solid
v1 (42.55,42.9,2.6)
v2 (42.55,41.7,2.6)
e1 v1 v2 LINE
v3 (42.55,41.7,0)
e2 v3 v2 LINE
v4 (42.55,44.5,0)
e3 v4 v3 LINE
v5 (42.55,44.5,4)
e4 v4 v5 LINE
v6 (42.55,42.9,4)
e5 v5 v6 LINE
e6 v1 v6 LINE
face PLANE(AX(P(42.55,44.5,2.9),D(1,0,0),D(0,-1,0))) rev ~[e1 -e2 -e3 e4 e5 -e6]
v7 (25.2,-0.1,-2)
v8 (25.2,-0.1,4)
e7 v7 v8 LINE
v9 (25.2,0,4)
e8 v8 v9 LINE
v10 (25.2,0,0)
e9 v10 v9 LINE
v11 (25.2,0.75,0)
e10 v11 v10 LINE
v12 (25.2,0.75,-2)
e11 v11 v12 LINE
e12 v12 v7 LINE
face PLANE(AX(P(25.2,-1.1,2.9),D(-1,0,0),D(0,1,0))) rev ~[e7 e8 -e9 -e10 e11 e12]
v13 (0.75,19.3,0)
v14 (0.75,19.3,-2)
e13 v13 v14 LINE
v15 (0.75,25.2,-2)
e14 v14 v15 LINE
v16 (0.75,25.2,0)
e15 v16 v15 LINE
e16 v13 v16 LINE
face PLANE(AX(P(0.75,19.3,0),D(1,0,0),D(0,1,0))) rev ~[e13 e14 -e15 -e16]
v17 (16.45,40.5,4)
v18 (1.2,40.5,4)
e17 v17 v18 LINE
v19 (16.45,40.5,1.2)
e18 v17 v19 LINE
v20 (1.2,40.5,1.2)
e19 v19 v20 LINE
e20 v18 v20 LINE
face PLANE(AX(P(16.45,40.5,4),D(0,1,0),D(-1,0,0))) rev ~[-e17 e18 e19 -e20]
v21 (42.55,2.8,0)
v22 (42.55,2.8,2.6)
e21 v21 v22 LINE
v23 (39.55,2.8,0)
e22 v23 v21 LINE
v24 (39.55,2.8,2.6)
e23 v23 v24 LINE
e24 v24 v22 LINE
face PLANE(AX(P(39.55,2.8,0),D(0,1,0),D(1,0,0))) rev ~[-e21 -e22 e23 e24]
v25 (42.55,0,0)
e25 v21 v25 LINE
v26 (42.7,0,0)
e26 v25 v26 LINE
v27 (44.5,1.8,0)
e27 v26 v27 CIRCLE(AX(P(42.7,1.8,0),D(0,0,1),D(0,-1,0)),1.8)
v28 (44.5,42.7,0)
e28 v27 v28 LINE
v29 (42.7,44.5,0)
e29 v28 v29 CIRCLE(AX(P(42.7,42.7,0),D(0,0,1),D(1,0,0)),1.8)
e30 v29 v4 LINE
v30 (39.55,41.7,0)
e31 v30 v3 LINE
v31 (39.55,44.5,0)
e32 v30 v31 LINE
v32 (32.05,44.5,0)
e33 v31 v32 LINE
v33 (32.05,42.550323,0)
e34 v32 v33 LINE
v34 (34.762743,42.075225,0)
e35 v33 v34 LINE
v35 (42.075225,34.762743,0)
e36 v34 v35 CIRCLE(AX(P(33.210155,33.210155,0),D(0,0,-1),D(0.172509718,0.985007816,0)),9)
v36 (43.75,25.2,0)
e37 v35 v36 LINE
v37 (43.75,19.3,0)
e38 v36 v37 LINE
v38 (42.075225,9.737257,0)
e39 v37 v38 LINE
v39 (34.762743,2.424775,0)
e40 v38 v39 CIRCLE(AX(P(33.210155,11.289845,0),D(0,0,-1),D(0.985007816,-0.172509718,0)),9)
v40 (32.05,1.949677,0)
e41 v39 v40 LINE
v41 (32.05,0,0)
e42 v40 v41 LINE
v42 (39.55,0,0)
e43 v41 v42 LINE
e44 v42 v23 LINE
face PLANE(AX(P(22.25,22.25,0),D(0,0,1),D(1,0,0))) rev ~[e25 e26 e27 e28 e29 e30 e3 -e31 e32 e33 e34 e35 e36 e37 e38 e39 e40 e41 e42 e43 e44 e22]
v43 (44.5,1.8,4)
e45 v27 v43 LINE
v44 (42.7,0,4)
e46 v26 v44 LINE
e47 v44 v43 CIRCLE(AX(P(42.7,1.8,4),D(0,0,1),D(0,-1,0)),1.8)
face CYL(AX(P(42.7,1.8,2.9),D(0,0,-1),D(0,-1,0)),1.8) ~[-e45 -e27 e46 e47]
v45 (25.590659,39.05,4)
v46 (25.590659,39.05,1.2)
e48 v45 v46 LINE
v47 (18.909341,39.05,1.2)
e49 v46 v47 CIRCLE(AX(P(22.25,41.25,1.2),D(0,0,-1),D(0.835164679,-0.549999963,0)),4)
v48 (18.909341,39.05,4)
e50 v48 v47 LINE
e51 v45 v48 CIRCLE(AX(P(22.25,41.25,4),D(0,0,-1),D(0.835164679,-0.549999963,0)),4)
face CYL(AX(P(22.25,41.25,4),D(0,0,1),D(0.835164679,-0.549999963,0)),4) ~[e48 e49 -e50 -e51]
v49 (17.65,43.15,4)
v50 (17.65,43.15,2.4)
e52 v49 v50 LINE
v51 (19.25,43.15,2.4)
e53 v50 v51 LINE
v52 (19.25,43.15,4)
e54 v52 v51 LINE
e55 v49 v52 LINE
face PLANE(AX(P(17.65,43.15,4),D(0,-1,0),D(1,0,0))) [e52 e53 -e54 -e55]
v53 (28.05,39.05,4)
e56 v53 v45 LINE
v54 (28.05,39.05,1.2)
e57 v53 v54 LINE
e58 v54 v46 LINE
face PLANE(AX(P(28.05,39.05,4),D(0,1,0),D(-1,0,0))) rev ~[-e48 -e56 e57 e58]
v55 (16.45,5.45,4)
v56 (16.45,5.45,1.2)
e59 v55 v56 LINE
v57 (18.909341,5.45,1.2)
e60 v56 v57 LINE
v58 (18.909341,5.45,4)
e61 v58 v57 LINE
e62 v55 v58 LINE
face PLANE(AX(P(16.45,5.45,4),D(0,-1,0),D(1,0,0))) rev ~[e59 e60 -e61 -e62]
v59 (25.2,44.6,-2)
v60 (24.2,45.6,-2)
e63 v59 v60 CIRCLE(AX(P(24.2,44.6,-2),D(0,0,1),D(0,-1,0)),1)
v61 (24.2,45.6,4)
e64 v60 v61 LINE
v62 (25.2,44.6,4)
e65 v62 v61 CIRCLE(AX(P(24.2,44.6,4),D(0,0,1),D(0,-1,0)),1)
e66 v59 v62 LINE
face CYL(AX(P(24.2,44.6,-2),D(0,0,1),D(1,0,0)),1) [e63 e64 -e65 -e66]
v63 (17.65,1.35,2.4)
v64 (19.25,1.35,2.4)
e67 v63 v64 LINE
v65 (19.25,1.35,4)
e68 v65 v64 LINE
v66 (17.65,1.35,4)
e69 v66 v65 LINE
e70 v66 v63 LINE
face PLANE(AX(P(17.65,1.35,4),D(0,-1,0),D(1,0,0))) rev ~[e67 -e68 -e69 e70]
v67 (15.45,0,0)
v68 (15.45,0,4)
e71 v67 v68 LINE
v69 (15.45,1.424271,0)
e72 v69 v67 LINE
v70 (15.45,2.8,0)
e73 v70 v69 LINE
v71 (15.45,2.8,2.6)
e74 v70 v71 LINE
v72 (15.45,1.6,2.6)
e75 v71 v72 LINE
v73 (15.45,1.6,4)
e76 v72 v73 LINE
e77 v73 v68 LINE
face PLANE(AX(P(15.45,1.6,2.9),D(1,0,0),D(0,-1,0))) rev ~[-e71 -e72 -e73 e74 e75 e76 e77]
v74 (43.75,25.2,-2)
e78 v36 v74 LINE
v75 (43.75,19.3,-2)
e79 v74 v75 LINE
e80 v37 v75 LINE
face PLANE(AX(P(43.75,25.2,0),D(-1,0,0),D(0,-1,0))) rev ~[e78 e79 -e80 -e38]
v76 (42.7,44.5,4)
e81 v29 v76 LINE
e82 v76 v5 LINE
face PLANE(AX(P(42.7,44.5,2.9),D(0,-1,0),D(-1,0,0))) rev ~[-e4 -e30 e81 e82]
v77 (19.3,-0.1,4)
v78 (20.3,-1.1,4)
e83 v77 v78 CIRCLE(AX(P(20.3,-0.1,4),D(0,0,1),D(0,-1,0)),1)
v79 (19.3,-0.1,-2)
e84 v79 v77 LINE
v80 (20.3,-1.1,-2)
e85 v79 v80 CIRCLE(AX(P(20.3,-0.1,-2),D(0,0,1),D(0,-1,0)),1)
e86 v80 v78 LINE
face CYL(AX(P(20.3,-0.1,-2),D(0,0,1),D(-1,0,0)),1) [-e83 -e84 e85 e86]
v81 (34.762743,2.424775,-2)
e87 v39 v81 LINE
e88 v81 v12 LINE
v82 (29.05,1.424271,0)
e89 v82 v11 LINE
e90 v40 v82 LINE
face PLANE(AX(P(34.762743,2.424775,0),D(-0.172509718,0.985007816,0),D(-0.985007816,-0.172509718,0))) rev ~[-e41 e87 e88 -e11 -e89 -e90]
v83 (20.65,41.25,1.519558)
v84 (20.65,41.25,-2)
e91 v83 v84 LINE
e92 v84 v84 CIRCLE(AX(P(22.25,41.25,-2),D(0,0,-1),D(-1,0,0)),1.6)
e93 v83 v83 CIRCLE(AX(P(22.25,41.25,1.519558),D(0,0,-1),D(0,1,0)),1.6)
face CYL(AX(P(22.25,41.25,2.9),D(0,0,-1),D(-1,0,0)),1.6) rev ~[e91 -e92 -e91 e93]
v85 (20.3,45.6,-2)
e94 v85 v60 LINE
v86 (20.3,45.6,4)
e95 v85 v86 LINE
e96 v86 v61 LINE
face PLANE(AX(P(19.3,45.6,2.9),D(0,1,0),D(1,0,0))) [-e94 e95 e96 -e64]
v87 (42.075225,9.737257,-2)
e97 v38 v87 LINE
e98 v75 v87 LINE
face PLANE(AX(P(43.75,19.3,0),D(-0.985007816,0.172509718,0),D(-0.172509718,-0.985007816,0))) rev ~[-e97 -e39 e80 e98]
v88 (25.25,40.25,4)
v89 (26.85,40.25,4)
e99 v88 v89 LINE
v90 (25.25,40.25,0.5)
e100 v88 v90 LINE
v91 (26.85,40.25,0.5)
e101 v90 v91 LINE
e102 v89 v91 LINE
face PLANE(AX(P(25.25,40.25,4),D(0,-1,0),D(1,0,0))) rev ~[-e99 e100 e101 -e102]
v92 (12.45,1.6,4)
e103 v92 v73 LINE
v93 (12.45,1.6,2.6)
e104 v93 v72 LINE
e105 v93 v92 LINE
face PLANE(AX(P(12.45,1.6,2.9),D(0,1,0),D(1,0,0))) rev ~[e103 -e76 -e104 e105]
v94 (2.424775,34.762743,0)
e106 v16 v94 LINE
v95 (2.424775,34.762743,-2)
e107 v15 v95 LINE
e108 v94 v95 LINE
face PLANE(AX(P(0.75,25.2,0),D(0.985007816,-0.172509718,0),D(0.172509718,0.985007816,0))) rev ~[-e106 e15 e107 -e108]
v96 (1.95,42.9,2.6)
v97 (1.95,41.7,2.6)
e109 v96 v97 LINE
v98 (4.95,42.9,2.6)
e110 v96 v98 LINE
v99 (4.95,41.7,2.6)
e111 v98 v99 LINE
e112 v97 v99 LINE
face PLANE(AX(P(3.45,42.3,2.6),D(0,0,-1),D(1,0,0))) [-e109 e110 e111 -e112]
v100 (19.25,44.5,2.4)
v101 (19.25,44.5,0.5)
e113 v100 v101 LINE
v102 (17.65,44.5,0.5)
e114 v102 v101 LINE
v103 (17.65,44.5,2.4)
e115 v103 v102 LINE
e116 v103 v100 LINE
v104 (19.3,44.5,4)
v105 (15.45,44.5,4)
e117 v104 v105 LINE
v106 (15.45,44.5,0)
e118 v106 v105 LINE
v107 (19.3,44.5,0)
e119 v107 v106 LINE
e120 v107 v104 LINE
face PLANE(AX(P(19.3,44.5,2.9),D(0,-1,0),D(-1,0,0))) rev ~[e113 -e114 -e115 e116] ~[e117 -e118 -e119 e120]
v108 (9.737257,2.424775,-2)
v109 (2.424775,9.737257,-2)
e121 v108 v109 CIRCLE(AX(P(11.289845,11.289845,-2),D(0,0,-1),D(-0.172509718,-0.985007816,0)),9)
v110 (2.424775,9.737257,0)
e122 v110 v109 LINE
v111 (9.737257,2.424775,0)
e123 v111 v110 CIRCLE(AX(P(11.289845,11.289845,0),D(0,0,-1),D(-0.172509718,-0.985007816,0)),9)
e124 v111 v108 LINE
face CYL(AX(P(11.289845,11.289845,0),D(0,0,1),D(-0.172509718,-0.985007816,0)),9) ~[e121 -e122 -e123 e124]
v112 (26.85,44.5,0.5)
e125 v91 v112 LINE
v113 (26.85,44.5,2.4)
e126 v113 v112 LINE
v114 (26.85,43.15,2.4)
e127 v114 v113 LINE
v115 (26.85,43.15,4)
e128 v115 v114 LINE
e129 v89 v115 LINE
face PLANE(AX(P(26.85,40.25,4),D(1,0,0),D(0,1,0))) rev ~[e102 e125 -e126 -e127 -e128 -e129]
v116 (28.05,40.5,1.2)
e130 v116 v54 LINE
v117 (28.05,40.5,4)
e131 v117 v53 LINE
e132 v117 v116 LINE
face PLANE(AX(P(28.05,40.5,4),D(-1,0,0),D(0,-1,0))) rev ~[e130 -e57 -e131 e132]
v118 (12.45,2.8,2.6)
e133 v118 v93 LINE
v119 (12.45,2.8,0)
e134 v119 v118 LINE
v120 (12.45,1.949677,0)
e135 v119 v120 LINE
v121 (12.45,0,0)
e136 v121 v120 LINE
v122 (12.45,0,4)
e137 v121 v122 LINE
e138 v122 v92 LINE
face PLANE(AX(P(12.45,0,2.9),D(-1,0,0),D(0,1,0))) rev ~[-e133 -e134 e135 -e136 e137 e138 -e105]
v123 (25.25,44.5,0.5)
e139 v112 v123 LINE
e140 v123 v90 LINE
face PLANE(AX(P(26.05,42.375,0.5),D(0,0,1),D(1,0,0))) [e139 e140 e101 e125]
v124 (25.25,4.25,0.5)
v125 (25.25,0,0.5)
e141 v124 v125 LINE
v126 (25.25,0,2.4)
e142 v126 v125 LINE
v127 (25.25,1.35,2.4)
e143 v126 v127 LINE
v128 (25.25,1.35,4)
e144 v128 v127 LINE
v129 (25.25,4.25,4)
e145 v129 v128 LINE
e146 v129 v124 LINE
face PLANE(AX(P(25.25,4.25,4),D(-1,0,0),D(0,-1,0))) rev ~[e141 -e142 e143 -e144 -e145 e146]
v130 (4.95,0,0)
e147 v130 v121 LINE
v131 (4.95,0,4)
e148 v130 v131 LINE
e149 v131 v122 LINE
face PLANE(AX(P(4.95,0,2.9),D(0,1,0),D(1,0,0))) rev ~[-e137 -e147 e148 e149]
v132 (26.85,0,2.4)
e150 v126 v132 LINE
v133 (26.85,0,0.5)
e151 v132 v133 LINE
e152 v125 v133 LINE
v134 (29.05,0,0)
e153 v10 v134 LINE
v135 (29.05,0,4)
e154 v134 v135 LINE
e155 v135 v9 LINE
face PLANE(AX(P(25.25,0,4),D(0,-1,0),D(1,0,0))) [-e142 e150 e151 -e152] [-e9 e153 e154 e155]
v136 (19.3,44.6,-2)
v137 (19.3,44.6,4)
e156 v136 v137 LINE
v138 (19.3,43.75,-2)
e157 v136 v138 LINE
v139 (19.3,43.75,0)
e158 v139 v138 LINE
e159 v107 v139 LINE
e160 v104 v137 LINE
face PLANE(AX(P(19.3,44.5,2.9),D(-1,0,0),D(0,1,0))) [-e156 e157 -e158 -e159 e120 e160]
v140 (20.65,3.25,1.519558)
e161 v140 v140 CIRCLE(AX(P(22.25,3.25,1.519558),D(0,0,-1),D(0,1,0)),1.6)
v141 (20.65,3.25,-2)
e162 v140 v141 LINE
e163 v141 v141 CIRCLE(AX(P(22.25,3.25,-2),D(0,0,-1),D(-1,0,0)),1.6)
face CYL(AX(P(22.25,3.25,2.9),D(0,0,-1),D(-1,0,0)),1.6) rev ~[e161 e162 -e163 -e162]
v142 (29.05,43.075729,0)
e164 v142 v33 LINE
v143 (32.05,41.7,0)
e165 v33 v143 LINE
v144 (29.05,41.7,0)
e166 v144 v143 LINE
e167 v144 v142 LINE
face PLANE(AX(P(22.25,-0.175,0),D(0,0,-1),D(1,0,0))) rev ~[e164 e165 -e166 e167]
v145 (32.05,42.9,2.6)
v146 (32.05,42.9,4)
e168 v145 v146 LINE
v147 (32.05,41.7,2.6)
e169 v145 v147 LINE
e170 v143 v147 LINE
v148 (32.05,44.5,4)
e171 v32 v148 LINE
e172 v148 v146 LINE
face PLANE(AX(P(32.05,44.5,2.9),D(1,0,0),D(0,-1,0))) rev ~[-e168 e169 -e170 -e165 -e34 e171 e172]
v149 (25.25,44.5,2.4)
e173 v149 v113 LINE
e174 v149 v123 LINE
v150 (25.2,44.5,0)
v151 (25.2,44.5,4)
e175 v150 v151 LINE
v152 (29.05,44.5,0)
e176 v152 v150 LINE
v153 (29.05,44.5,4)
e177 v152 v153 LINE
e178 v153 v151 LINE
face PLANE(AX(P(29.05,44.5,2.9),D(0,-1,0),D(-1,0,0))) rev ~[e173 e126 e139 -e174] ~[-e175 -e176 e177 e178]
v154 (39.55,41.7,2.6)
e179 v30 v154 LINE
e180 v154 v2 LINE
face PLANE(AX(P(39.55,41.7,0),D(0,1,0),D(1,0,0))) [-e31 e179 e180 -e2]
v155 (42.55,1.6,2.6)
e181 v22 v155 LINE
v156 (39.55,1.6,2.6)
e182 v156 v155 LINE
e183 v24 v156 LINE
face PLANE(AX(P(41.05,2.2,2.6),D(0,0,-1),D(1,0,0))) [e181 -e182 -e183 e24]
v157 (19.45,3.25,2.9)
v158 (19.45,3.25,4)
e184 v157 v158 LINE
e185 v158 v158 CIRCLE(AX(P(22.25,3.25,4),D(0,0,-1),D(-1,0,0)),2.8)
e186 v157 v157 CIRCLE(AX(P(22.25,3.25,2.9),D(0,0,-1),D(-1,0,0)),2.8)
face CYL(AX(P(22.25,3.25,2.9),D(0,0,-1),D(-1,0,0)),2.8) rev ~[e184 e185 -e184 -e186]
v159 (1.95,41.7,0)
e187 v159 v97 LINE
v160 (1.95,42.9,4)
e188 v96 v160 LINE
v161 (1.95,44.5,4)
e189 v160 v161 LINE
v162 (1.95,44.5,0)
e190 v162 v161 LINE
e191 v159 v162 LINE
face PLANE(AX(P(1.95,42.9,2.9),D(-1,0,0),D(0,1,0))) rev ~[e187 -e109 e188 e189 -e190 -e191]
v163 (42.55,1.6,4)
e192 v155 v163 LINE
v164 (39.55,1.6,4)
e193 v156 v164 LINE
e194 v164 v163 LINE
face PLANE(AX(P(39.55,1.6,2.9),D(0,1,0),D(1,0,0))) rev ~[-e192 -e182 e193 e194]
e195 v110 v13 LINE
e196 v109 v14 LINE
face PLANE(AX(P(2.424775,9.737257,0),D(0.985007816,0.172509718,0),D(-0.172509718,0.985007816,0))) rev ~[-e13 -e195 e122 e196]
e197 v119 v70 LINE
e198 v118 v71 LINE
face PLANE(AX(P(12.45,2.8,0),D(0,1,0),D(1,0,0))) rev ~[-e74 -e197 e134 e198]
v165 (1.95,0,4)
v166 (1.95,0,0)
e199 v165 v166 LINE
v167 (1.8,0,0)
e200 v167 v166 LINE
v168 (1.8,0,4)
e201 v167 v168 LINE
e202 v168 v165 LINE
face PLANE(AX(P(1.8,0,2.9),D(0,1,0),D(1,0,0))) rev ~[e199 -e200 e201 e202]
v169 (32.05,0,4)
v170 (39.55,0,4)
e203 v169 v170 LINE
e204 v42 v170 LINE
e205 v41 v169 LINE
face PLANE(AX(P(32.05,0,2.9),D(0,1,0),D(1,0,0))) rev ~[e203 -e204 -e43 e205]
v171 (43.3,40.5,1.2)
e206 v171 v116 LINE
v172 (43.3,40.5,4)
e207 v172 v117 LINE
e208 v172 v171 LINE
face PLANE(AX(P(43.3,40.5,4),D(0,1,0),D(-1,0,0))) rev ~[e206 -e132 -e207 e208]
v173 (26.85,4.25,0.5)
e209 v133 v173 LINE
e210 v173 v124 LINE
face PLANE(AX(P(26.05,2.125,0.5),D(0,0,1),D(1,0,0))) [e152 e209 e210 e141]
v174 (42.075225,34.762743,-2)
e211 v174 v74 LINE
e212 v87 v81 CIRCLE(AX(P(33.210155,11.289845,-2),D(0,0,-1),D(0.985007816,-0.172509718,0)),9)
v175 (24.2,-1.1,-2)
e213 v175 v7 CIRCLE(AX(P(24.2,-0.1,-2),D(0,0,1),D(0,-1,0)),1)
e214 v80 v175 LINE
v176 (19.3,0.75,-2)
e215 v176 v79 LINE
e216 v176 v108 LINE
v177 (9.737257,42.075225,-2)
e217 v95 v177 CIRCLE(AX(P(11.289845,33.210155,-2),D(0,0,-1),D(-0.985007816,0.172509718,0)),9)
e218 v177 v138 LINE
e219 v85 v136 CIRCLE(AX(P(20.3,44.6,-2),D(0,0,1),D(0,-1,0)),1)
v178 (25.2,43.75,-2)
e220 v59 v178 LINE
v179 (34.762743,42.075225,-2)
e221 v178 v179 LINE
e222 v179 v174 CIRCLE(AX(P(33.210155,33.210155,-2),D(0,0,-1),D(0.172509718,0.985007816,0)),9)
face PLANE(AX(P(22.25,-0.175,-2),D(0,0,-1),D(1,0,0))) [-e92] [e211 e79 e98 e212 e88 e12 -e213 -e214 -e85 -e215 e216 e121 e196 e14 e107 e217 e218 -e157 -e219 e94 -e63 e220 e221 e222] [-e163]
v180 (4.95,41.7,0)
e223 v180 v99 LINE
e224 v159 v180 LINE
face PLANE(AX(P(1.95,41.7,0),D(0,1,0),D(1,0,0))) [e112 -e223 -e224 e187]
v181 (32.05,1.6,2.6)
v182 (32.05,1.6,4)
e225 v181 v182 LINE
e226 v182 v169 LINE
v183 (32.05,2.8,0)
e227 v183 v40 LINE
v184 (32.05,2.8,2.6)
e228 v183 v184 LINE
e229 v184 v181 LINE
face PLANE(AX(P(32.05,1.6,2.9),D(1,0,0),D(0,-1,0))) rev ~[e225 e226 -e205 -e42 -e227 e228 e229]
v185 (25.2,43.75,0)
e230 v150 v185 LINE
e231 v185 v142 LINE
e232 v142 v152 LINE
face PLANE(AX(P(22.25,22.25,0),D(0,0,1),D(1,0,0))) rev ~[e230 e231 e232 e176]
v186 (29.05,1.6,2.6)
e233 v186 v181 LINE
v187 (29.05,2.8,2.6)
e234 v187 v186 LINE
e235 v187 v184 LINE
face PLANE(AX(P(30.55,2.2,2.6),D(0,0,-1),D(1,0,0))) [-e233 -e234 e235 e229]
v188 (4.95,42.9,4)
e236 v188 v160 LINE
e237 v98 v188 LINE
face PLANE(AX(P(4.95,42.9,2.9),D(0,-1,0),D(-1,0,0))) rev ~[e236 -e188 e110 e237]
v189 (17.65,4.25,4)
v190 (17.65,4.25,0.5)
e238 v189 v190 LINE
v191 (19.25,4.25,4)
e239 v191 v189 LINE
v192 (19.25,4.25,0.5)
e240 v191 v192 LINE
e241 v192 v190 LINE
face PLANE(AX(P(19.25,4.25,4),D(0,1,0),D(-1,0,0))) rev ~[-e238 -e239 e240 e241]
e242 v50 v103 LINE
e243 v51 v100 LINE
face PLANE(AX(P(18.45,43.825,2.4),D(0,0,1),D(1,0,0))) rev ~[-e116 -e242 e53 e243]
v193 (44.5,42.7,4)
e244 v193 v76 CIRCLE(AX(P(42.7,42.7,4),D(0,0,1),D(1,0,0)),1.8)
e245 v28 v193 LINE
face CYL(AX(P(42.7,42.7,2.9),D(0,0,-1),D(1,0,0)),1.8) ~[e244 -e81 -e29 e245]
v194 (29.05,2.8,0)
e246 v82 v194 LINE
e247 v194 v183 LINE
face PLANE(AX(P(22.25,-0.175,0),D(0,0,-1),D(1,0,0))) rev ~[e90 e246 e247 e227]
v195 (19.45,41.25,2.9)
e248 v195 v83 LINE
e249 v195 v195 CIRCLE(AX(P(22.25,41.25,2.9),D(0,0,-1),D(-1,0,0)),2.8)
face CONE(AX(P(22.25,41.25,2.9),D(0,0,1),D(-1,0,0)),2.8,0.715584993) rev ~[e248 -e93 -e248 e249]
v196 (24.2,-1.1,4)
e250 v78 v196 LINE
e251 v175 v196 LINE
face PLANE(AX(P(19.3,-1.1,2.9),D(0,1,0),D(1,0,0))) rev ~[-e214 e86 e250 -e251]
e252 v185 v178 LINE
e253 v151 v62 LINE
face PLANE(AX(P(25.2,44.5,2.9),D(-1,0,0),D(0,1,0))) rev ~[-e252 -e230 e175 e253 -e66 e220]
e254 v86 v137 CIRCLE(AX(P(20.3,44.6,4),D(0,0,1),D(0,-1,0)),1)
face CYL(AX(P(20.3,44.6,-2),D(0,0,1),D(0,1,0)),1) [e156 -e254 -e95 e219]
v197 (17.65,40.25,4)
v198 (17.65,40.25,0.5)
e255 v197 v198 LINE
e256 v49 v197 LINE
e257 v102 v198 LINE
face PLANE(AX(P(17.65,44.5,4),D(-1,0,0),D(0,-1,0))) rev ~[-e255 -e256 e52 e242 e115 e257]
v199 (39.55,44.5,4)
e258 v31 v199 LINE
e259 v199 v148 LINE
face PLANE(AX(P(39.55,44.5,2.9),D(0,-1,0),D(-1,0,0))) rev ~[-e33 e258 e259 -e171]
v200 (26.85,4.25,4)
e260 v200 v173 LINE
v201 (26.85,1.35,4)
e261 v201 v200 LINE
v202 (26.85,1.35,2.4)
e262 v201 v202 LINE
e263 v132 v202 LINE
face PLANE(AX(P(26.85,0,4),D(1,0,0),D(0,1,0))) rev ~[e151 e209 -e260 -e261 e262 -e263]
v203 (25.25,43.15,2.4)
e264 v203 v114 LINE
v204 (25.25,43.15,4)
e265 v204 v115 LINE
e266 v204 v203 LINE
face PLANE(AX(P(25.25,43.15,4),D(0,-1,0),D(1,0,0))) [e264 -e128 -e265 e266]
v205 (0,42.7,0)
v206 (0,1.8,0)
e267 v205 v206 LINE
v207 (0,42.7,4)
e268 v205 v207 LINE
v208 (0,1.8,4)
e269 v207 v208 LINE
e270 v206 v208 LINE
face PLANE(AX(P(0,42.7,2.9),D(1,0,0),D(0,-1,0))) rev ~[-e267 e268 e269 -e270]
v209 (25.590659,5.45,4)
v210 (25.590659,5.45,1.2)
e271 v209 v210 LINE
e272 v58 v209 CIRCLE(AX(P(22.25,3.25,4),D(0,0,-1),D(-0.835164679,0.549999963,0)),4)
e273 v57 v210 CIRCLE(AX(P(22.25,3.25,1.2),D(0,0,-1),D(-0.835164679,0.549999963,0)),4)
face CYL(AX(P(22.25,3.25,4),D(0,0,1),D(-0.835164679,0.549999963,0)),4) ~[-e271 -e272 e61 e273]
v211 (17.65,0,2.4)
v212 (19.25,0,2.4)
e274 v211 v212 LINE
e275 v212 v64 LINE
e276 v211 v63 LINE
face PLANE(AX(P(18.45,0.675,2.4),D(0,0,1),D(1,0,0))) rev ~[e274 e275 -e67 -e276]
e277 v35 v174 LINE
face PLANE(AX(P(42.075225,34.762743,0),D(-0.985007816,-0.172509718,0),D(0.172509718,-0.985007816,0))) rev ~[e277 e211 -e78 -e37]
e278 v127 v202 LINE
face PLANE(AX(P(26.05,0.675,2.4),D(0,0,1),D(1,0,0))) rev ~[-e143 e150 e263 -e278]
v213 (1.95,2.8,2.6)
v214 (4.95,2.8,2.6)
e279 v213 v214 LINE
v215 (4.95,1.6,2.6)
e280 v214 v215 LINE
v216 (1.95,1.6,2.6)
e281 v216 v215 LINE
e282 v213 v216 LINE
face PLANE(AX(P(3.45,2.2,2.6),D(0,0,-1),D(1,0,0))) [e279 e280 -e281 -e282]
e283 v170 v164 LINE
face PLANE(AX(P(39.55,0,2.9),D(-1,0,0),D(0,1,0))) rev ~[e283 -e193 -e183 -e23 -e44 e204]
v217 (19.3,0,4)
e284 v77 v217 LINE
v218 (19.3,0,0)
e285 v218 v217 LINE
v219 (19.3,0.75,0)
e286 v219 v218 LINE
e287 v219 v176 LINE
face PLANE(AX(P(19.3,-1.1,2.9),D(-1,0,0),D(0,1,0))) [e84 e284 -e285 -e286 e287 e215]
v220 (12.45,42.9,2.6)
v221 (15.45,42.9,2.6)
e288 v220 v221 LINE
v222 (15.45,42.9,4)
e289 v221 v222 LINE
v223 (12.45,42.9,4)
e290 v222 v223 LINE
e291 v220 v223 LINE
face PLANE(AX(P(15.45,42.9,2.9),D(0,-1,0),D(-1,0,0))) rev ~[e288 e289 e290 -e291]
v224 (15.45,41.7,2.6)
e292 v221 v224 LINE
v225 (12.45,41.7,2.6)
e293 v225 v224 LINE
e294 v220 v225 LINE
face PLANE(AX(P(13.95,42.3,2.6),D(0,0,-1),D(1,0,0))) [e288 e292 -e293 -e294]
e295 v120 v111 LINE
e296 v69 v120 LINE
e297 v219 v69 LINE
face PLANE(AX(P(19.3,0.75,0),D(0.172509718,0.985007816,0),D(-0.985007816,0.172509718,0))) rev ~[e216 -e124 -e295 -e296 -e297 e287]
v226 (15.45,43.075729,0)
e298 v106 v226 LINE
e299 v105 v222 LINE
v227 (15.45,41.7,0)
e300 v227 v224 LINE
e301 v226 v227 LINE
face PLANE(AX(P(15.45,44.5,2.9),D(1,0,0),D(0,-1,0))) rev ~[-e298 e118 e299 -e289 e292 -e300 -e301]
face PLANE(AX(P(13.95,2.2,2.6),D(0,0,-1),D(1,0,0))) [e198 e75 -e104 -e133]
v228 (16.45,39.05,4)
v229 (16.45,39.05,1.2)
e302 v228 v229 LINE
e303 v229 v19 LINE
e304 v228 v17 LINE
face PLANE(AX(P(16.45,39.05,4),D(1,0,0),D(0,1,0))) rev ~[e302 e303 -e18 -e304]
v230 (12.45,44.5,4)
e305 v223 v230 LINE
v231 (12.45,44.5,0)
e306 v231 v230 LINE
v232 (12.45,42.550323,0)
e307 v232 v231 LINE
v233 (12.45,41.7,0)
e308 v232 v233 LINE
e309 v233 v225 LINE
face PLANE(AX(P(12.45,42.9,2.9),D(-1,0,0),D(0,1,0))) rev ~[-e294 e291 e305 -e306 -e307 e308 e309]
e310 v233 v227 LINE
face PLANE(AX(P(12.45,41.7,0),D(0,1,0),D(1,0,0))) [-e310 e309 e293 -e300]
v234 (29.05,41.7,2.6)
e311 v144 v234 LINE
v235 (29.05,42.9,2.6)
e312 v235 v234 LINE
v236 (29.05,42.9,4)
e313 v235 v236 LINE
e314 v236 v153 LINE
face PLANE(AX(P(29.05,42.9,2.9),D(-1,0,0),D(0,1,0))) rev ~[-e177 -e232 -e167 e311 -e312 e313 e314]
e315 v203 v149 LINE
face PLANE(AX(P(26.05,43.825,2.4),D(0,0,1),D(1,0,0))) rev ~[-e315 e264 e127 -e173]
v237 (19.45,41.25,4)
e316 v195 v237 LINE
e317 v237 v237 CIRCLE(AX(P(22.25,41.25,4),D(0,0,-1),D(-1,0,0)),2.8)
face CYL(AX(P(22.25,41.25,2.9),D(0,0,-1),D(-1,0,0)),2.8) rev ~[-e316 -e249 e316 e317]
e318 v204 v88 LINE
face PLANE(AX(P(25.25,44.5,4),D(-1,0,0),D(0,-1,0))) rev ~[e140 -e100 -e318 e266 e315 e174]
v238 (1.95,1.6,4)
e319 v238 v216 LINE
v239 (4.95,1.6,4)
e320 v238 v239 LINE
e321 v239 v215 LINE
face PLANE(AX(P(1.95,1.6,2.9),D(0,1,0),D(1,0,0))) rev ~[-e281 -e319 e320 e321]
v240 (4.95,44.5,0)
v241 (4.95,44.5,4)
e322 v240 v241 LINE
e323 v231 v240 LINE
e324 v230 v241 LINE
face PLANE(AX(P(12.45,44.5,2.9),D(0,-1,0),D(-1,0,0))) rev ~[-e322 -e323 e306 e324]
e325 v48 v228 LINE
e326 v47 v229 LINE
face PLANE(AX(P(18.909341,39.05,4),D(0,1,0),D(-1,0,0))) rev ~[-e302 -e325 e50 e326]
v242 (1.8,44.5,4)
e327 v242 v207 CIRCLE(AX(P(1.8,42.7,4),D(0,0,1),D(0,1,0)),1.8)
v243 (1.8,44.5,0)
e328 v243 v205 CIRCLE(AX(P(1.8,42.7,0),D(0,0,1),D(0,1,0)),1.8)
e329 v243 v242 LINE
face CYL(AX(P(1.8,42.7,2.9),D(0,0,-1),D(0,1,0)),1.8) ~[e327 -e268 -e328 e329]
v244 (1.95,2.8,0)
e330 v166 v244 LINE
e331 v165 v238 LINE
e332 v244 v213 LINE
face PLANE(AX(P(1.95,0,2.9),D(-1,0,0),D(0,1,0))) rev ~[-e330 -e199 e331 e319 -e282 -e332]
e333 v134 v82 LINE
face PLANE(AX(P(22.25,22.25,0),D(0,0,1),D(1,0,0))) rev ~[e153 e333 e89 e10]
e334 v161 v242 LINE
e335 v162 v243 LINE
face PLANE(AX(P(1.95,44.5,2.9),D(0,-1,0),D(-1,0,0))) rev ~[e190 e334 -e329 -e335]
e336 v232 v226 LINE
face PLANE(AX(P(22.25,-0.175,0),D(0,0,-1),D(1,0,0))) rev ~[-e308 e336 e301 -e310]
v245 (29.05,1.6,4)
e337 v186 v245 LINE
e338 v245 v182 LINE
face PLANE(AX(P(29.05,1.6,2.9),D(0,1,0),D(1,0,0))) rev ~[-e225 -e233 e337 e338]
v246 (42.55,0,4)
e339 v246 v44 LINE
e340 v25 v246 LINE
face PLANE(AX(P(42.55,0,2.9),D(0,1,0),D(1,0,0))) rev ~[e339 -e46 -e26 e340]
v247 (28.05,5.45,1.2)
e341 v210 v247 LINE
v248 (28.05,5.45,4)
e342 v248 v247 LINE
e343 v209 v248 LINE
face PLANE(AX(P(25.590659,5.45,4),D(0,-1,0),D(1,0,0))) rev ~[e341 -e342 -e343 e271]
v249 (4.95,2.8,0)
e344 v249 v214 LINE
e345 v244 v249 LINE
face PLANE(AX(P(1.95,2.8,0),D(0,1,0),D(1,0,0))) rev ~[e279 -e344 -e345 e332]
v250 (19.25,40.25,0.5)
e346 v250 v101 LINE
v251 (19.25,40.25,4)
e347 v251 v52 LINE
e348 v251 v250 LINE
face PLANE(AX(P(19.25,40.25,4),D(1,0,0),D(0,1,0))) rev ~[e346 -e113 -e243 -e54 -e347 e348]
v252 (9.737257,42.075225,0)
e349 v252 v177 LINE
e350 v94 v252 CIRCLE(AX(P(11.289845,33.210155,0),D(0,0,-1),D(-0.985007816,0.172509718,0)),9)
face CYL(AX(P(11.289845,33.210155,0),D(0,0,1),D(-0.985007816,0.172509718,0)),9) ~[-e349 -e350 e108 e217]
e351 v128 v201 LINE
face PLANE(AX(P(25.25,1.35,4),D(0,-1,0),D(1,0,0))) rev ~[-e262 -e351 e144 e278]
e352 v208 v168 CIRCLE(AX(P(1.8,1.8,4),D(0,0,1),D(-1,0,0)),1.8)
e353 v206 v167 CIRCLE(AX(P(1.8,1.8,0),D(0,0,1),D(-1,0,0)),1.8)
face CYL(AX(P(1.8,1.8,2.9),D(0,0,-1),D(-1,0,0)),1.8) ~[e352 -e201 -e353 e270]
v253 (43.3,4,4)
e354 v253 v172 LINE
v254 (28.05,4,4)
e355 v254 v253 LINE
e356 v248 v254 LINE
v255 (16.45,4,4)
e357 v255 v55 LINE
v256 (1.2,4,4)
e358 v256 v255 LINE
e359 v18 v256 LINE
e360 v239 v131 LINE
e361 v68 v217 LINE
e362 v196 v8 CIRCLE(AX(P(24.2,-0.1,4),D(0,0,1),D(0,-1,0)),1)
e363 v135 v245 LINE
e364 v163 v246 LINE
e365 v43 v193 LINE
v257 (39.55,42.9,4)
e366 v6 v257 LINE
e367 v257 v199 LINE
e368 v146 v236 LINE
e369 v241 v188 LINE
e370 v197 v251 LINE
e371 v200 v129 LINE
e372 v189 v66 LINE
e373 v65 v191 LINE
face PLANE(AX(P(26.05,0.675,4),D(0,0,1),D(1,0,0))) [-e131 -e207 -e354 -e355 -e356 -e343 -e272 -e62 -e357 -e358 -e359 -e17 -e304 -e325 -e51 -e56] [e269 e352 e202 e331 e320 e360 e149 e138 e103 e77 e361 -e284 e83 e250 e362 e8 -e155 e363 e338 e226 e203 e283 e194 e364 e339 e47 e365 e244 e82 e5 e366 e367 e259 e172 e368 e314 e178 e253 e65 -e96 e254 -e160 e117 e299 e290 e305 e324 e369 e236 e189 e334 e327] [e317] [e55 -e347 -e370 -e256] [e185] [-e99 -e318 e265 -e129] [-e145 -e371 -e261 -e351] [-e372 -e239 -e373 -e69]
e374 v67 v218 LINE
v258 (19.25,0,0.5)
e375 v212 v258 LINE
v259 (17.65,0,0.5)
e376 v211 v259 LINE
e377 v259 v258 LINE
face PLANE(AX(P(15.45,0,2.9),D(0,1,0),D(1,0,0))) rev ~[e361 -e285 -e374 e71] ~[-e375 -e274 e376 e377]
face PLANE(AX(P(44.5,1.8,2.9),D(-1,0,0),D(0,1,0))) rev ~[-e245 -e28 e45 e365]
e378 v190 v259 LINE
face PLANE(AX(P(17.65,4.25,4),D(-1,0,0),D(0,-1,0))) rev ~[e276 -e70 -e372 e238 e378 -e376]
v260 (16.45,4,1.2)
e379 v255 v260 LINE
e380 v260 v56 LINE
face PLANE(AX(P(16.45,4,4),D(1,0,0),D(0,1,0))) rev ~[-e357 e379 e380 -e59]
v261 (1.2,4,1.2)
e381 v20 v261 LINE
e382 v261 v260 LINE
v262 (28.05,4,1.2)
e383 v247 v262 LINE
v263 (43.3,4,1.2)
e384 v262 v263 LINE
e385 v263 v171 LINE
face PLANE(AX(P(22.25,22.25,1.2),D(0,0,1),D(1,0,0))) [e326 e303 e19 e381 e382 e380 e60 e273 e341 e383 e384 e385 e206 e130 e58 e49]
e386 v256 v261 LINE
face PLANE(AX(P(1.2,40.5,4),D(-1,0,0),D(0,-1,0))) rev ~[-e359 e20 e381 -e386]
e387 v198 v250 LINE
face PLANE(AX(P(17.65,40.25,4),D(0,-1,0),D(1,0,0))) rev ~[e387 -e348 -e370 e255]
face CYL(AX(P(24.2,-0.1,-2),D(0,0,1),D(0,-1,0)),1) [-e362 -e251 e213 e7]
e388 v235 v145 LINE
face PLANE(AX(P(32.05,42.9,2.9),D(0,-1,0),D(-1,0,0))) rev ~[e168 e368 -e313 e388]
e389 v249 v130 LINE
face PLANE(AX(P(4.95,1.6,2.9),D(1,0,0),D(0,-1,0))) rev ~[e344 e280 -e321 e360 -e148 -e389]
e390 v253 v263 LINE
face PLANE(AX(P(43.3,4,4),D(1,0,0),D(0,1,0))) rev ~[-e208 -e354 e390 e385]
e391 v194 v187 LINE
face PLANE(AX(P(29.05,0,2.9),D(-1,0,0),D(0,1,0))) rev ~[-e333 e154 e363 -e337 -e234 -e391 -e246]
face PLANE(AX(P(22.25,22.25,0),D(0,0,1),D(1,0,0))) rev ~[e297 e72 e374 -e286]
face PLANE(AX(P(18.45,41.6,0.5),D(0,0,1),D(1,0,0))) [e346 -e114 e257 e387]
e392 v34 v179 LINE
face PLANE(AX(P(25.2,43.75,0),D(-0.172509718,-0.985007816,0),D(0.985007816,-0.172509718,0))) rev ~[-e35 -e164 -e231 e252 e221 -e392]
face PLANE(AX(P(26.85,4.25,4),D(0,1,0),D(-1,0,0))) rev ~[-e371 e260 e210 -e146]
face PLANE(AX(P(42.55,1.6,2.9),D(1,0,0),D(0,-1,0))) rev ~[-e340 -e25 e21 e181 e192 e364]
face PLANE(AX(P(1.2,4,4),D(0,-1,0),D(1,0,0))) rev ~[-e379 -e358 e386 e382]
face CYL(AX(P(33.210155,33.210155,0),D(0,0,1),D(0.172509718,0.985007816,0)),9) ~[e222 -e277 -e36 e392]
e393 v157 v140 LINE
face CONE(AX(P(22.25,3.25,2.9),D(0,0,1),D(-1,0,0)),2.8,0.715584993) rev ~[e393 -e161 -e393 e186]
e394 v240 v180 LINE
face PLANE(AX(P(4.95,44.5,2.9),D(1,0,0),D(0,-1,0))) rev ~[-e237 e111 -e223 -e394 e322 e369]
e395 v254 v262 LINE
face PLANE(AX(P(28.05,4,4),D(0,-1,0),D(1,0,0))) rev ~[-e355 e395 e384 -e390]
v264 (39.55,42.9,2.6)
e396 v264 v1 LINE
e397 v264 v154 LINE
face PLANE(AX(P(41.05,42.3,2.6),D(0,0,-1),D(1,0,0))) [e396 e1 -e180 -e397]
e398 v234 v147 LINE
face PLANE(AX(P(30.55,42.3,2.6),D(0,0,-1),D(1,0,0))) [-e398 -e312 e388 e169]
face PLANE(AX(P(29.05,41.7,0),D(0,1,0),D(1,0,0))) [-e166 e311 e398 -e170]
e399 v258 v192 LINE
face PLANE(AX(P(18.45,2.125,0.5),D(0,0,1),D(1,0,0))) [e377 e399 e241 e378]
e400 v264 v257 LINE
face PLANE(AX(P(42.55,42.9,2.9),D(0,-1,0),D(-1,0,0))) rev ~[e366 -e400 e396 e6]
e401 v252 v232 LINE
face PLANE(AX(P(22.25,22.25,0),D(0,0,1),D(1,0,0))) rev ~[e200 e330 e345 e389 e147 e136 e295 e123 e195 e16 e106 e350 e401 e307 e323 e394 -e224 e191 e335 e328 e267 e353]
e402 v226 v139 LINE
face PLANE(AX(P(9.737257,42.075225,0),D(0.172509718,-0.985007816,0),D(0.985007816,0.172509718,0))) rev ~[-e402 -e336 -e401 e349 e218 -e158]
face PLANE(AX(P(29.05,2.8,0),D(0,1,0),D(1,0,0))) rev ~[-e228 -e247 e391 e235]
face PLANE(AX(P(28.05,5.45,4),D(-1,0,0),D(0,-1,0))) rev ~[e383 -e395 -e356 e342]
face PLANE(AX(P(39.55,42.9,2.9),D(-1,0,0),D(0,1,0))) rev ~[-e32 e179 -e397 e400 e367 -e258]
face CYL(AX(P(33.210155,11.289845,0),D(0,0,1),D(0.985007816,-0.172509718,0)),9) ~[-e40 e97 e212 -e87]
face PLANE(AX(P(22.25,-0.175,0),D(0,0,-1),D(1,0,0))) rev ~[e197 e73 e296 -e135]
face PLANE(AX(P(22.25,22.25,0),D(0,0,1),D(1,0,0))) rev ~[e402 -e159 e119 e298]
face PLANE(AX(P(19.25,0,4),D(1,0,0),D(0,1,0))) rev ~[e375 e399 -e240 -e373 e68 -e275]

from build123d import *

# Parameters (mm, degrees)
F0_W           = 5.9
F0_H           = 1.1
F1_DEPTH       = 2.9
F2_W           = 5.9
F2_H           = 1.85
F3_DEPTH       = 2
F5_D           = 3.2
F5_CSINK_D     = 5.6
F5_CSINK_ANGLE = 82
F6_DEPTH       = 1.1
F7_R           = 1
F8_W           = 3
F8_H           = 1.2
F9_DEPTH       = 2.6
F10_W          = 1.6
F10_H          = 2.7
F10_H_2        = 1.55
F11_DEPTH      = 3.5
F12_W          = 1.6
F12_H          = 1.35
F13_DEPTH      = 1.6
F15_DEPTH      = 2.8


with BuildPart() as f1:
    # F0 (on Top) → F1 (new body)
    with BuildSketch(Plane.XY):
        with BuildLine():
            Line((4.95, 1.6), (4.95, 0))
            Line((4.95, 0), (12.45, 0))
            Line((12.45, 0), (12.45, 1.6))
            Line((12.45, 1.6), (15.45, 1.6))
            Line((15.45, 1.6), (15.45, 0))
            Line((15.45, 0), (19.3, 0))
            Line((19.3, 0), (19.3, 1.1))
            Line((19.3, 1.1), (25.2, 1.1))
            Line((25.2, 1.1), (25.2, 0))
            Line((25.2, 0), (29.05, 0))
            Line((29.05, 0), (29.05, 1.6))
            Line((29.05, 1.6), (32.05, 1.6))
            Line((32.05, 1.6), (32.05, 0))
            Line((32.05, 0), (39.55, 0))
            Line((39.55, 0), (39.55, 1.6))
            Line((39.55, 1.6), (42.55, 1.6))
            Line((42.55, 1.6), (42.55, 0))
            Line((42.55, 0), (42.7, 0))
            ThreePointArc((42.7, 0), (43.9727922061, 0.5272077939), (44.5, 1.8))
            Line((44.5, 1.8), (44.5, 42.7))
            ThreePointArc((44.5, 42.7), (43.9727922061, 43.9727922061), (42.7, 44.5))
            Line((42.7, 44.5), (42.55, 44.5))
            Line((42.55, 44.5), (42.55, 42.9))
            Line((42.55, 42.9), (39.55, 42.9))
            Line((39.55, 42.9), (39.55, 44.5))
            Line((39.55, 44.5), (32.05, 44.5))
            Line((32.05, 44.5), (32.05, 42.9))
            Line((32.05, 42.9), (29.05, 42.9))
            Line((29.05, 42.9), (29.05, 44.5))
            Line((29.05, 44.5), (25.2, 44.5))
            Line((25.2, 44.5), (25.2, 43.4))
            Line((25.2, 43.4), (19.3, 43.4))
            Line((19.3, 43.4), (19.3, 44.5))
            Line((19.3, 44.5), (15.45, 44.5))
            Line((15.45, 44.5), (15.45, 42.9))
            Line((15.45, 42.9), (12.45, 42.9))
            Line((12.45, 42.9), (12.45, 44.5))
            Line((12.45, 44.5), (4.95, 44.5))
            Line((4.95, 44.5), (4.95, 42.9))
            Line((4.95, 42.9), (1.95, 42.9))
            Line((1.95, 42.9), (1.95, 44.5))
            Line((1.95, 44.5), (1.8, 44.5))
            ThreePointArc((1.8, 44.5), (0.5272077939, 43.9727922061), (0, 42.7))
            Line((0, 42.7), (0, 1.8))
            ThreePointArc((0, 1.8), (0.5272077939, 0.5272077939), (1.8, 0))
            Line((1.8, 0), (1.95, 0))
            Line((1.95, 0), (1.95, 1.6))
            Line((1.95, 1.6), (4.95, 1.6))
        make_face()
        with Locations((22.25, -0.55)):
            Rectangle(F0_W, F0_H)
        with Locations((22.25, 0.55)):
            Rectangle(F0_W, F0_H)
        with Locations((22.25, 43.95)):
            Rectangle(F0_W, F0_H)
        with Locations((22.25, 45.05)):
            Rectangle(F0_W, F0_H)
    extrude(amount=F1_DEPTH)

    # F2 (on face) → F3 (join)
    with BuildSketch(Plane(origin=(0, 0, 0), x_dir=(1, 0, 0), z_dir=(0, 0, -1))):
        with Locations((22.25, 0.175)):
            Rectangle(F2_W, F2_H)
        with BuildLine():
            Line((25.2, -0.75), (19.3, -0.75))
            Line((19.3, -0.75), (9.7372574326, -2.4247745488))
            ThreePointArc((9.7372574326, -2.4247745488), (4.9258838609, -4.9258838609), (2.4247745488, -9.7372574326))
            Line((2.4247745488, -9.7372574326), (0.75, -19.3))
            Line((0.75, -19.3), (0.75, -25.2))
            Line((0.75, -25.2), (2.4247745488, -34.7627425674))
            ThreePointArc((2.4247745488, -34.7627425674), (4.9258838609, -39.5741161391), (9.7372574326, -42.0752254512))
            Line((9.7372574326, -42.0752254512), (19.3, -43.75))
            Line((19.3, -43.75), (25.2, -43.75))
            Line((25.2, -43.75), (34.7627425674, -42.0752254512))
            ThreePointArc((34.7627425674, -42.0752254512), (39.5741161391, -39.5741161391), (42.0752254512, -34.7627425674))
            Line((42.0752254512, -34.7627425674), (43.75, -25.2))
            Line((43.75, -25.2), (43.75, -19.3))
            Line((43.75, -19.3), (42.0752254512, -9.7372574326))
            ThreePointArc((42.0752254512, -9.7372574326), (39.5741161391, -4.9258838609), (34.7627425674, -2.4247745488))
            Line((34.7627425674, -2.4247745488), (25.2, -0.75))
        make_face()
        with Locations((22.25, -44.675)):
            Rectangle(F2_W, F2_H)
    extrude(amount=F3_DEPTH)

    # F5 (through all)
    with Locations(Plane.XY.offset(2.9)):
        with Locations((22.25, 41.25), (22.25, 3.25)):
            CounterSinkHole(F5_D / 2, F5_CSINK_D / 2, counter_sink_angle=F5_CSINK_ANGLE)

    # F6 (add): a face of the model
    f6_faces = [f1.faces().sort_by_distance(p)[0] for p in [
        (22.25, 22.25, 2.9),
    ]]
    extrude(f6_faces, amount=F6_DEPTH)

    # F7
    f7_edges = [f1.edges().sort_by_distance(p)[0] for p in [
        (25.2, -1.1, 1),
        (19.3, -1.1, 1),
        (25.2, 45.6, 1),
        (19.3, 45.6, 1),
    ]]
    fillet(f7_edges, radius=F7_R)

    # F8 (on face) → F9 (cut, through all)
    with BuildSketch(Plane(origin=(0, 0, 0), x_dir=(1, 0, 0), z_dir=(0, 0, -1))):
        with Locations((3.45, -42.3)):
            Rectangle(F8_W, F8_H)
        with Locations((13.95, -42.3)):
            Rectangle(F8_W, F8_H)
        with Locations((3.45, -2.2)):
            Rectangle(F8_W, F8_H)
        with Locations((13.95, -2.2)):
            Rectangle(F8_W, F8_H)
        with Locations((30.55, -42.3)):
            Rectangle(F8_W, F8_H)
        with Locations((41.05, -42.3)):
            Rectangle(F8_W, F8_H)
        with Locations((30.55, -2.2)):
            Rectangle(F8_W, F8_H)
        with Locations((41.05, -2.2)):
            Rectangle(F8_W, F8_H)
    extrude(amount=-F9_DEPTH, mode=Mode.SUBTRACT)

    # F10 (on face) → F11 (cut)
    with BuildSketch(Plane.XY.offset(4)):
        Polygon((19.25, 1.55), (19.25, 4.25), (17.65, 4.25), (17.65, 1.55), (17.65, 0), (19.25, 0), align=None)
        with Locations((18.45, 41.6)):
            Rectangle(F10_W, F10_H)
        with Locations((18.45, 43.725)):
            Rectangle(F10_W, F10_H_2)
        Polygon((25.25, 4.25), (25.25, 1.55), (25.25, 0), (26.85, 0), (26.85, 1.55), (26.85, 4.25), align=None)
        Polygon((25.25, 42.95), (25.25, 40.25), (26.85, 40.25), (26.85, 42.95), (26.85, 44.5), (25.25, 44.5), align=None)
    extrude(amount=-F11_DEPTH, mode=Mode.SUBTRACT)

    # F12 (on face) → F13 (join)
    with BuildSketch(Plane.XY.offset(4)):
        with Locations((26.05, 0.675)):
            Rectangle(F12_W, F12_H)
        with Locations((18.45, 0.675)):
            Rectangle(F12_W, F12_H)
        with Locations((26.05, 43.825)):
            Rectangle(F12_W, F12_H)
        with Locations((18.45, 43.825)):
            Rectangle(F12_W, F12_H)
    extrude(amount=-F13_DEPTH)

    # F14 (on face) → F15 (cut, through all)
    with BuildSketch(Plane.XY.offset(4)):
        with BuildLine():
            Line((16.45, 40.5), (1.2, 40.5))
            Line((1.2, 40.5), (1.2, 22.25))
            Line((1.2, 22.25), (1.2, 4))
            Line((1.2, 4), (16.45, 4))
            Line((16.45, 4), (16.45, 5.45))
            Line((16.45, 5.45), (18.9093410611, 5.45))
            ThreePointArc((18.9093410611, 5.45), (22.25, 7.2500002682), (25.5906589389, 5.45))
            Line((25.5906589389, 5.45), (28.05, 5.45))
            Line((28.05, 5.45), (28.05, 4))
            Line((28.05, 4), (43.3, 4))
            Line((43.3, 4), (43.3, 22.25))
            Line((43.3, 22.25), (43.3, 40.5))
            Line((43.3, 40.5), (28.05, 40.5))
            Line((28.05, 40.5), (28.05, 39.05))
            Line((28.05, 39.05), (25.5906589389, 39.05))
            ThreePointArc((25.5906589389, 39.05), (22.25, 37.2499997318), (18.9093410611, 39.05))
            Line((18.9093410611, 39.05), (16.45, 39.05))
            Line((16.45, 39.05), (16.45, 40.5))
        make_face()
    extrude(amount=-F15_DEPTH, mode=Mode.SUBTRACT)


solid = f1.part
